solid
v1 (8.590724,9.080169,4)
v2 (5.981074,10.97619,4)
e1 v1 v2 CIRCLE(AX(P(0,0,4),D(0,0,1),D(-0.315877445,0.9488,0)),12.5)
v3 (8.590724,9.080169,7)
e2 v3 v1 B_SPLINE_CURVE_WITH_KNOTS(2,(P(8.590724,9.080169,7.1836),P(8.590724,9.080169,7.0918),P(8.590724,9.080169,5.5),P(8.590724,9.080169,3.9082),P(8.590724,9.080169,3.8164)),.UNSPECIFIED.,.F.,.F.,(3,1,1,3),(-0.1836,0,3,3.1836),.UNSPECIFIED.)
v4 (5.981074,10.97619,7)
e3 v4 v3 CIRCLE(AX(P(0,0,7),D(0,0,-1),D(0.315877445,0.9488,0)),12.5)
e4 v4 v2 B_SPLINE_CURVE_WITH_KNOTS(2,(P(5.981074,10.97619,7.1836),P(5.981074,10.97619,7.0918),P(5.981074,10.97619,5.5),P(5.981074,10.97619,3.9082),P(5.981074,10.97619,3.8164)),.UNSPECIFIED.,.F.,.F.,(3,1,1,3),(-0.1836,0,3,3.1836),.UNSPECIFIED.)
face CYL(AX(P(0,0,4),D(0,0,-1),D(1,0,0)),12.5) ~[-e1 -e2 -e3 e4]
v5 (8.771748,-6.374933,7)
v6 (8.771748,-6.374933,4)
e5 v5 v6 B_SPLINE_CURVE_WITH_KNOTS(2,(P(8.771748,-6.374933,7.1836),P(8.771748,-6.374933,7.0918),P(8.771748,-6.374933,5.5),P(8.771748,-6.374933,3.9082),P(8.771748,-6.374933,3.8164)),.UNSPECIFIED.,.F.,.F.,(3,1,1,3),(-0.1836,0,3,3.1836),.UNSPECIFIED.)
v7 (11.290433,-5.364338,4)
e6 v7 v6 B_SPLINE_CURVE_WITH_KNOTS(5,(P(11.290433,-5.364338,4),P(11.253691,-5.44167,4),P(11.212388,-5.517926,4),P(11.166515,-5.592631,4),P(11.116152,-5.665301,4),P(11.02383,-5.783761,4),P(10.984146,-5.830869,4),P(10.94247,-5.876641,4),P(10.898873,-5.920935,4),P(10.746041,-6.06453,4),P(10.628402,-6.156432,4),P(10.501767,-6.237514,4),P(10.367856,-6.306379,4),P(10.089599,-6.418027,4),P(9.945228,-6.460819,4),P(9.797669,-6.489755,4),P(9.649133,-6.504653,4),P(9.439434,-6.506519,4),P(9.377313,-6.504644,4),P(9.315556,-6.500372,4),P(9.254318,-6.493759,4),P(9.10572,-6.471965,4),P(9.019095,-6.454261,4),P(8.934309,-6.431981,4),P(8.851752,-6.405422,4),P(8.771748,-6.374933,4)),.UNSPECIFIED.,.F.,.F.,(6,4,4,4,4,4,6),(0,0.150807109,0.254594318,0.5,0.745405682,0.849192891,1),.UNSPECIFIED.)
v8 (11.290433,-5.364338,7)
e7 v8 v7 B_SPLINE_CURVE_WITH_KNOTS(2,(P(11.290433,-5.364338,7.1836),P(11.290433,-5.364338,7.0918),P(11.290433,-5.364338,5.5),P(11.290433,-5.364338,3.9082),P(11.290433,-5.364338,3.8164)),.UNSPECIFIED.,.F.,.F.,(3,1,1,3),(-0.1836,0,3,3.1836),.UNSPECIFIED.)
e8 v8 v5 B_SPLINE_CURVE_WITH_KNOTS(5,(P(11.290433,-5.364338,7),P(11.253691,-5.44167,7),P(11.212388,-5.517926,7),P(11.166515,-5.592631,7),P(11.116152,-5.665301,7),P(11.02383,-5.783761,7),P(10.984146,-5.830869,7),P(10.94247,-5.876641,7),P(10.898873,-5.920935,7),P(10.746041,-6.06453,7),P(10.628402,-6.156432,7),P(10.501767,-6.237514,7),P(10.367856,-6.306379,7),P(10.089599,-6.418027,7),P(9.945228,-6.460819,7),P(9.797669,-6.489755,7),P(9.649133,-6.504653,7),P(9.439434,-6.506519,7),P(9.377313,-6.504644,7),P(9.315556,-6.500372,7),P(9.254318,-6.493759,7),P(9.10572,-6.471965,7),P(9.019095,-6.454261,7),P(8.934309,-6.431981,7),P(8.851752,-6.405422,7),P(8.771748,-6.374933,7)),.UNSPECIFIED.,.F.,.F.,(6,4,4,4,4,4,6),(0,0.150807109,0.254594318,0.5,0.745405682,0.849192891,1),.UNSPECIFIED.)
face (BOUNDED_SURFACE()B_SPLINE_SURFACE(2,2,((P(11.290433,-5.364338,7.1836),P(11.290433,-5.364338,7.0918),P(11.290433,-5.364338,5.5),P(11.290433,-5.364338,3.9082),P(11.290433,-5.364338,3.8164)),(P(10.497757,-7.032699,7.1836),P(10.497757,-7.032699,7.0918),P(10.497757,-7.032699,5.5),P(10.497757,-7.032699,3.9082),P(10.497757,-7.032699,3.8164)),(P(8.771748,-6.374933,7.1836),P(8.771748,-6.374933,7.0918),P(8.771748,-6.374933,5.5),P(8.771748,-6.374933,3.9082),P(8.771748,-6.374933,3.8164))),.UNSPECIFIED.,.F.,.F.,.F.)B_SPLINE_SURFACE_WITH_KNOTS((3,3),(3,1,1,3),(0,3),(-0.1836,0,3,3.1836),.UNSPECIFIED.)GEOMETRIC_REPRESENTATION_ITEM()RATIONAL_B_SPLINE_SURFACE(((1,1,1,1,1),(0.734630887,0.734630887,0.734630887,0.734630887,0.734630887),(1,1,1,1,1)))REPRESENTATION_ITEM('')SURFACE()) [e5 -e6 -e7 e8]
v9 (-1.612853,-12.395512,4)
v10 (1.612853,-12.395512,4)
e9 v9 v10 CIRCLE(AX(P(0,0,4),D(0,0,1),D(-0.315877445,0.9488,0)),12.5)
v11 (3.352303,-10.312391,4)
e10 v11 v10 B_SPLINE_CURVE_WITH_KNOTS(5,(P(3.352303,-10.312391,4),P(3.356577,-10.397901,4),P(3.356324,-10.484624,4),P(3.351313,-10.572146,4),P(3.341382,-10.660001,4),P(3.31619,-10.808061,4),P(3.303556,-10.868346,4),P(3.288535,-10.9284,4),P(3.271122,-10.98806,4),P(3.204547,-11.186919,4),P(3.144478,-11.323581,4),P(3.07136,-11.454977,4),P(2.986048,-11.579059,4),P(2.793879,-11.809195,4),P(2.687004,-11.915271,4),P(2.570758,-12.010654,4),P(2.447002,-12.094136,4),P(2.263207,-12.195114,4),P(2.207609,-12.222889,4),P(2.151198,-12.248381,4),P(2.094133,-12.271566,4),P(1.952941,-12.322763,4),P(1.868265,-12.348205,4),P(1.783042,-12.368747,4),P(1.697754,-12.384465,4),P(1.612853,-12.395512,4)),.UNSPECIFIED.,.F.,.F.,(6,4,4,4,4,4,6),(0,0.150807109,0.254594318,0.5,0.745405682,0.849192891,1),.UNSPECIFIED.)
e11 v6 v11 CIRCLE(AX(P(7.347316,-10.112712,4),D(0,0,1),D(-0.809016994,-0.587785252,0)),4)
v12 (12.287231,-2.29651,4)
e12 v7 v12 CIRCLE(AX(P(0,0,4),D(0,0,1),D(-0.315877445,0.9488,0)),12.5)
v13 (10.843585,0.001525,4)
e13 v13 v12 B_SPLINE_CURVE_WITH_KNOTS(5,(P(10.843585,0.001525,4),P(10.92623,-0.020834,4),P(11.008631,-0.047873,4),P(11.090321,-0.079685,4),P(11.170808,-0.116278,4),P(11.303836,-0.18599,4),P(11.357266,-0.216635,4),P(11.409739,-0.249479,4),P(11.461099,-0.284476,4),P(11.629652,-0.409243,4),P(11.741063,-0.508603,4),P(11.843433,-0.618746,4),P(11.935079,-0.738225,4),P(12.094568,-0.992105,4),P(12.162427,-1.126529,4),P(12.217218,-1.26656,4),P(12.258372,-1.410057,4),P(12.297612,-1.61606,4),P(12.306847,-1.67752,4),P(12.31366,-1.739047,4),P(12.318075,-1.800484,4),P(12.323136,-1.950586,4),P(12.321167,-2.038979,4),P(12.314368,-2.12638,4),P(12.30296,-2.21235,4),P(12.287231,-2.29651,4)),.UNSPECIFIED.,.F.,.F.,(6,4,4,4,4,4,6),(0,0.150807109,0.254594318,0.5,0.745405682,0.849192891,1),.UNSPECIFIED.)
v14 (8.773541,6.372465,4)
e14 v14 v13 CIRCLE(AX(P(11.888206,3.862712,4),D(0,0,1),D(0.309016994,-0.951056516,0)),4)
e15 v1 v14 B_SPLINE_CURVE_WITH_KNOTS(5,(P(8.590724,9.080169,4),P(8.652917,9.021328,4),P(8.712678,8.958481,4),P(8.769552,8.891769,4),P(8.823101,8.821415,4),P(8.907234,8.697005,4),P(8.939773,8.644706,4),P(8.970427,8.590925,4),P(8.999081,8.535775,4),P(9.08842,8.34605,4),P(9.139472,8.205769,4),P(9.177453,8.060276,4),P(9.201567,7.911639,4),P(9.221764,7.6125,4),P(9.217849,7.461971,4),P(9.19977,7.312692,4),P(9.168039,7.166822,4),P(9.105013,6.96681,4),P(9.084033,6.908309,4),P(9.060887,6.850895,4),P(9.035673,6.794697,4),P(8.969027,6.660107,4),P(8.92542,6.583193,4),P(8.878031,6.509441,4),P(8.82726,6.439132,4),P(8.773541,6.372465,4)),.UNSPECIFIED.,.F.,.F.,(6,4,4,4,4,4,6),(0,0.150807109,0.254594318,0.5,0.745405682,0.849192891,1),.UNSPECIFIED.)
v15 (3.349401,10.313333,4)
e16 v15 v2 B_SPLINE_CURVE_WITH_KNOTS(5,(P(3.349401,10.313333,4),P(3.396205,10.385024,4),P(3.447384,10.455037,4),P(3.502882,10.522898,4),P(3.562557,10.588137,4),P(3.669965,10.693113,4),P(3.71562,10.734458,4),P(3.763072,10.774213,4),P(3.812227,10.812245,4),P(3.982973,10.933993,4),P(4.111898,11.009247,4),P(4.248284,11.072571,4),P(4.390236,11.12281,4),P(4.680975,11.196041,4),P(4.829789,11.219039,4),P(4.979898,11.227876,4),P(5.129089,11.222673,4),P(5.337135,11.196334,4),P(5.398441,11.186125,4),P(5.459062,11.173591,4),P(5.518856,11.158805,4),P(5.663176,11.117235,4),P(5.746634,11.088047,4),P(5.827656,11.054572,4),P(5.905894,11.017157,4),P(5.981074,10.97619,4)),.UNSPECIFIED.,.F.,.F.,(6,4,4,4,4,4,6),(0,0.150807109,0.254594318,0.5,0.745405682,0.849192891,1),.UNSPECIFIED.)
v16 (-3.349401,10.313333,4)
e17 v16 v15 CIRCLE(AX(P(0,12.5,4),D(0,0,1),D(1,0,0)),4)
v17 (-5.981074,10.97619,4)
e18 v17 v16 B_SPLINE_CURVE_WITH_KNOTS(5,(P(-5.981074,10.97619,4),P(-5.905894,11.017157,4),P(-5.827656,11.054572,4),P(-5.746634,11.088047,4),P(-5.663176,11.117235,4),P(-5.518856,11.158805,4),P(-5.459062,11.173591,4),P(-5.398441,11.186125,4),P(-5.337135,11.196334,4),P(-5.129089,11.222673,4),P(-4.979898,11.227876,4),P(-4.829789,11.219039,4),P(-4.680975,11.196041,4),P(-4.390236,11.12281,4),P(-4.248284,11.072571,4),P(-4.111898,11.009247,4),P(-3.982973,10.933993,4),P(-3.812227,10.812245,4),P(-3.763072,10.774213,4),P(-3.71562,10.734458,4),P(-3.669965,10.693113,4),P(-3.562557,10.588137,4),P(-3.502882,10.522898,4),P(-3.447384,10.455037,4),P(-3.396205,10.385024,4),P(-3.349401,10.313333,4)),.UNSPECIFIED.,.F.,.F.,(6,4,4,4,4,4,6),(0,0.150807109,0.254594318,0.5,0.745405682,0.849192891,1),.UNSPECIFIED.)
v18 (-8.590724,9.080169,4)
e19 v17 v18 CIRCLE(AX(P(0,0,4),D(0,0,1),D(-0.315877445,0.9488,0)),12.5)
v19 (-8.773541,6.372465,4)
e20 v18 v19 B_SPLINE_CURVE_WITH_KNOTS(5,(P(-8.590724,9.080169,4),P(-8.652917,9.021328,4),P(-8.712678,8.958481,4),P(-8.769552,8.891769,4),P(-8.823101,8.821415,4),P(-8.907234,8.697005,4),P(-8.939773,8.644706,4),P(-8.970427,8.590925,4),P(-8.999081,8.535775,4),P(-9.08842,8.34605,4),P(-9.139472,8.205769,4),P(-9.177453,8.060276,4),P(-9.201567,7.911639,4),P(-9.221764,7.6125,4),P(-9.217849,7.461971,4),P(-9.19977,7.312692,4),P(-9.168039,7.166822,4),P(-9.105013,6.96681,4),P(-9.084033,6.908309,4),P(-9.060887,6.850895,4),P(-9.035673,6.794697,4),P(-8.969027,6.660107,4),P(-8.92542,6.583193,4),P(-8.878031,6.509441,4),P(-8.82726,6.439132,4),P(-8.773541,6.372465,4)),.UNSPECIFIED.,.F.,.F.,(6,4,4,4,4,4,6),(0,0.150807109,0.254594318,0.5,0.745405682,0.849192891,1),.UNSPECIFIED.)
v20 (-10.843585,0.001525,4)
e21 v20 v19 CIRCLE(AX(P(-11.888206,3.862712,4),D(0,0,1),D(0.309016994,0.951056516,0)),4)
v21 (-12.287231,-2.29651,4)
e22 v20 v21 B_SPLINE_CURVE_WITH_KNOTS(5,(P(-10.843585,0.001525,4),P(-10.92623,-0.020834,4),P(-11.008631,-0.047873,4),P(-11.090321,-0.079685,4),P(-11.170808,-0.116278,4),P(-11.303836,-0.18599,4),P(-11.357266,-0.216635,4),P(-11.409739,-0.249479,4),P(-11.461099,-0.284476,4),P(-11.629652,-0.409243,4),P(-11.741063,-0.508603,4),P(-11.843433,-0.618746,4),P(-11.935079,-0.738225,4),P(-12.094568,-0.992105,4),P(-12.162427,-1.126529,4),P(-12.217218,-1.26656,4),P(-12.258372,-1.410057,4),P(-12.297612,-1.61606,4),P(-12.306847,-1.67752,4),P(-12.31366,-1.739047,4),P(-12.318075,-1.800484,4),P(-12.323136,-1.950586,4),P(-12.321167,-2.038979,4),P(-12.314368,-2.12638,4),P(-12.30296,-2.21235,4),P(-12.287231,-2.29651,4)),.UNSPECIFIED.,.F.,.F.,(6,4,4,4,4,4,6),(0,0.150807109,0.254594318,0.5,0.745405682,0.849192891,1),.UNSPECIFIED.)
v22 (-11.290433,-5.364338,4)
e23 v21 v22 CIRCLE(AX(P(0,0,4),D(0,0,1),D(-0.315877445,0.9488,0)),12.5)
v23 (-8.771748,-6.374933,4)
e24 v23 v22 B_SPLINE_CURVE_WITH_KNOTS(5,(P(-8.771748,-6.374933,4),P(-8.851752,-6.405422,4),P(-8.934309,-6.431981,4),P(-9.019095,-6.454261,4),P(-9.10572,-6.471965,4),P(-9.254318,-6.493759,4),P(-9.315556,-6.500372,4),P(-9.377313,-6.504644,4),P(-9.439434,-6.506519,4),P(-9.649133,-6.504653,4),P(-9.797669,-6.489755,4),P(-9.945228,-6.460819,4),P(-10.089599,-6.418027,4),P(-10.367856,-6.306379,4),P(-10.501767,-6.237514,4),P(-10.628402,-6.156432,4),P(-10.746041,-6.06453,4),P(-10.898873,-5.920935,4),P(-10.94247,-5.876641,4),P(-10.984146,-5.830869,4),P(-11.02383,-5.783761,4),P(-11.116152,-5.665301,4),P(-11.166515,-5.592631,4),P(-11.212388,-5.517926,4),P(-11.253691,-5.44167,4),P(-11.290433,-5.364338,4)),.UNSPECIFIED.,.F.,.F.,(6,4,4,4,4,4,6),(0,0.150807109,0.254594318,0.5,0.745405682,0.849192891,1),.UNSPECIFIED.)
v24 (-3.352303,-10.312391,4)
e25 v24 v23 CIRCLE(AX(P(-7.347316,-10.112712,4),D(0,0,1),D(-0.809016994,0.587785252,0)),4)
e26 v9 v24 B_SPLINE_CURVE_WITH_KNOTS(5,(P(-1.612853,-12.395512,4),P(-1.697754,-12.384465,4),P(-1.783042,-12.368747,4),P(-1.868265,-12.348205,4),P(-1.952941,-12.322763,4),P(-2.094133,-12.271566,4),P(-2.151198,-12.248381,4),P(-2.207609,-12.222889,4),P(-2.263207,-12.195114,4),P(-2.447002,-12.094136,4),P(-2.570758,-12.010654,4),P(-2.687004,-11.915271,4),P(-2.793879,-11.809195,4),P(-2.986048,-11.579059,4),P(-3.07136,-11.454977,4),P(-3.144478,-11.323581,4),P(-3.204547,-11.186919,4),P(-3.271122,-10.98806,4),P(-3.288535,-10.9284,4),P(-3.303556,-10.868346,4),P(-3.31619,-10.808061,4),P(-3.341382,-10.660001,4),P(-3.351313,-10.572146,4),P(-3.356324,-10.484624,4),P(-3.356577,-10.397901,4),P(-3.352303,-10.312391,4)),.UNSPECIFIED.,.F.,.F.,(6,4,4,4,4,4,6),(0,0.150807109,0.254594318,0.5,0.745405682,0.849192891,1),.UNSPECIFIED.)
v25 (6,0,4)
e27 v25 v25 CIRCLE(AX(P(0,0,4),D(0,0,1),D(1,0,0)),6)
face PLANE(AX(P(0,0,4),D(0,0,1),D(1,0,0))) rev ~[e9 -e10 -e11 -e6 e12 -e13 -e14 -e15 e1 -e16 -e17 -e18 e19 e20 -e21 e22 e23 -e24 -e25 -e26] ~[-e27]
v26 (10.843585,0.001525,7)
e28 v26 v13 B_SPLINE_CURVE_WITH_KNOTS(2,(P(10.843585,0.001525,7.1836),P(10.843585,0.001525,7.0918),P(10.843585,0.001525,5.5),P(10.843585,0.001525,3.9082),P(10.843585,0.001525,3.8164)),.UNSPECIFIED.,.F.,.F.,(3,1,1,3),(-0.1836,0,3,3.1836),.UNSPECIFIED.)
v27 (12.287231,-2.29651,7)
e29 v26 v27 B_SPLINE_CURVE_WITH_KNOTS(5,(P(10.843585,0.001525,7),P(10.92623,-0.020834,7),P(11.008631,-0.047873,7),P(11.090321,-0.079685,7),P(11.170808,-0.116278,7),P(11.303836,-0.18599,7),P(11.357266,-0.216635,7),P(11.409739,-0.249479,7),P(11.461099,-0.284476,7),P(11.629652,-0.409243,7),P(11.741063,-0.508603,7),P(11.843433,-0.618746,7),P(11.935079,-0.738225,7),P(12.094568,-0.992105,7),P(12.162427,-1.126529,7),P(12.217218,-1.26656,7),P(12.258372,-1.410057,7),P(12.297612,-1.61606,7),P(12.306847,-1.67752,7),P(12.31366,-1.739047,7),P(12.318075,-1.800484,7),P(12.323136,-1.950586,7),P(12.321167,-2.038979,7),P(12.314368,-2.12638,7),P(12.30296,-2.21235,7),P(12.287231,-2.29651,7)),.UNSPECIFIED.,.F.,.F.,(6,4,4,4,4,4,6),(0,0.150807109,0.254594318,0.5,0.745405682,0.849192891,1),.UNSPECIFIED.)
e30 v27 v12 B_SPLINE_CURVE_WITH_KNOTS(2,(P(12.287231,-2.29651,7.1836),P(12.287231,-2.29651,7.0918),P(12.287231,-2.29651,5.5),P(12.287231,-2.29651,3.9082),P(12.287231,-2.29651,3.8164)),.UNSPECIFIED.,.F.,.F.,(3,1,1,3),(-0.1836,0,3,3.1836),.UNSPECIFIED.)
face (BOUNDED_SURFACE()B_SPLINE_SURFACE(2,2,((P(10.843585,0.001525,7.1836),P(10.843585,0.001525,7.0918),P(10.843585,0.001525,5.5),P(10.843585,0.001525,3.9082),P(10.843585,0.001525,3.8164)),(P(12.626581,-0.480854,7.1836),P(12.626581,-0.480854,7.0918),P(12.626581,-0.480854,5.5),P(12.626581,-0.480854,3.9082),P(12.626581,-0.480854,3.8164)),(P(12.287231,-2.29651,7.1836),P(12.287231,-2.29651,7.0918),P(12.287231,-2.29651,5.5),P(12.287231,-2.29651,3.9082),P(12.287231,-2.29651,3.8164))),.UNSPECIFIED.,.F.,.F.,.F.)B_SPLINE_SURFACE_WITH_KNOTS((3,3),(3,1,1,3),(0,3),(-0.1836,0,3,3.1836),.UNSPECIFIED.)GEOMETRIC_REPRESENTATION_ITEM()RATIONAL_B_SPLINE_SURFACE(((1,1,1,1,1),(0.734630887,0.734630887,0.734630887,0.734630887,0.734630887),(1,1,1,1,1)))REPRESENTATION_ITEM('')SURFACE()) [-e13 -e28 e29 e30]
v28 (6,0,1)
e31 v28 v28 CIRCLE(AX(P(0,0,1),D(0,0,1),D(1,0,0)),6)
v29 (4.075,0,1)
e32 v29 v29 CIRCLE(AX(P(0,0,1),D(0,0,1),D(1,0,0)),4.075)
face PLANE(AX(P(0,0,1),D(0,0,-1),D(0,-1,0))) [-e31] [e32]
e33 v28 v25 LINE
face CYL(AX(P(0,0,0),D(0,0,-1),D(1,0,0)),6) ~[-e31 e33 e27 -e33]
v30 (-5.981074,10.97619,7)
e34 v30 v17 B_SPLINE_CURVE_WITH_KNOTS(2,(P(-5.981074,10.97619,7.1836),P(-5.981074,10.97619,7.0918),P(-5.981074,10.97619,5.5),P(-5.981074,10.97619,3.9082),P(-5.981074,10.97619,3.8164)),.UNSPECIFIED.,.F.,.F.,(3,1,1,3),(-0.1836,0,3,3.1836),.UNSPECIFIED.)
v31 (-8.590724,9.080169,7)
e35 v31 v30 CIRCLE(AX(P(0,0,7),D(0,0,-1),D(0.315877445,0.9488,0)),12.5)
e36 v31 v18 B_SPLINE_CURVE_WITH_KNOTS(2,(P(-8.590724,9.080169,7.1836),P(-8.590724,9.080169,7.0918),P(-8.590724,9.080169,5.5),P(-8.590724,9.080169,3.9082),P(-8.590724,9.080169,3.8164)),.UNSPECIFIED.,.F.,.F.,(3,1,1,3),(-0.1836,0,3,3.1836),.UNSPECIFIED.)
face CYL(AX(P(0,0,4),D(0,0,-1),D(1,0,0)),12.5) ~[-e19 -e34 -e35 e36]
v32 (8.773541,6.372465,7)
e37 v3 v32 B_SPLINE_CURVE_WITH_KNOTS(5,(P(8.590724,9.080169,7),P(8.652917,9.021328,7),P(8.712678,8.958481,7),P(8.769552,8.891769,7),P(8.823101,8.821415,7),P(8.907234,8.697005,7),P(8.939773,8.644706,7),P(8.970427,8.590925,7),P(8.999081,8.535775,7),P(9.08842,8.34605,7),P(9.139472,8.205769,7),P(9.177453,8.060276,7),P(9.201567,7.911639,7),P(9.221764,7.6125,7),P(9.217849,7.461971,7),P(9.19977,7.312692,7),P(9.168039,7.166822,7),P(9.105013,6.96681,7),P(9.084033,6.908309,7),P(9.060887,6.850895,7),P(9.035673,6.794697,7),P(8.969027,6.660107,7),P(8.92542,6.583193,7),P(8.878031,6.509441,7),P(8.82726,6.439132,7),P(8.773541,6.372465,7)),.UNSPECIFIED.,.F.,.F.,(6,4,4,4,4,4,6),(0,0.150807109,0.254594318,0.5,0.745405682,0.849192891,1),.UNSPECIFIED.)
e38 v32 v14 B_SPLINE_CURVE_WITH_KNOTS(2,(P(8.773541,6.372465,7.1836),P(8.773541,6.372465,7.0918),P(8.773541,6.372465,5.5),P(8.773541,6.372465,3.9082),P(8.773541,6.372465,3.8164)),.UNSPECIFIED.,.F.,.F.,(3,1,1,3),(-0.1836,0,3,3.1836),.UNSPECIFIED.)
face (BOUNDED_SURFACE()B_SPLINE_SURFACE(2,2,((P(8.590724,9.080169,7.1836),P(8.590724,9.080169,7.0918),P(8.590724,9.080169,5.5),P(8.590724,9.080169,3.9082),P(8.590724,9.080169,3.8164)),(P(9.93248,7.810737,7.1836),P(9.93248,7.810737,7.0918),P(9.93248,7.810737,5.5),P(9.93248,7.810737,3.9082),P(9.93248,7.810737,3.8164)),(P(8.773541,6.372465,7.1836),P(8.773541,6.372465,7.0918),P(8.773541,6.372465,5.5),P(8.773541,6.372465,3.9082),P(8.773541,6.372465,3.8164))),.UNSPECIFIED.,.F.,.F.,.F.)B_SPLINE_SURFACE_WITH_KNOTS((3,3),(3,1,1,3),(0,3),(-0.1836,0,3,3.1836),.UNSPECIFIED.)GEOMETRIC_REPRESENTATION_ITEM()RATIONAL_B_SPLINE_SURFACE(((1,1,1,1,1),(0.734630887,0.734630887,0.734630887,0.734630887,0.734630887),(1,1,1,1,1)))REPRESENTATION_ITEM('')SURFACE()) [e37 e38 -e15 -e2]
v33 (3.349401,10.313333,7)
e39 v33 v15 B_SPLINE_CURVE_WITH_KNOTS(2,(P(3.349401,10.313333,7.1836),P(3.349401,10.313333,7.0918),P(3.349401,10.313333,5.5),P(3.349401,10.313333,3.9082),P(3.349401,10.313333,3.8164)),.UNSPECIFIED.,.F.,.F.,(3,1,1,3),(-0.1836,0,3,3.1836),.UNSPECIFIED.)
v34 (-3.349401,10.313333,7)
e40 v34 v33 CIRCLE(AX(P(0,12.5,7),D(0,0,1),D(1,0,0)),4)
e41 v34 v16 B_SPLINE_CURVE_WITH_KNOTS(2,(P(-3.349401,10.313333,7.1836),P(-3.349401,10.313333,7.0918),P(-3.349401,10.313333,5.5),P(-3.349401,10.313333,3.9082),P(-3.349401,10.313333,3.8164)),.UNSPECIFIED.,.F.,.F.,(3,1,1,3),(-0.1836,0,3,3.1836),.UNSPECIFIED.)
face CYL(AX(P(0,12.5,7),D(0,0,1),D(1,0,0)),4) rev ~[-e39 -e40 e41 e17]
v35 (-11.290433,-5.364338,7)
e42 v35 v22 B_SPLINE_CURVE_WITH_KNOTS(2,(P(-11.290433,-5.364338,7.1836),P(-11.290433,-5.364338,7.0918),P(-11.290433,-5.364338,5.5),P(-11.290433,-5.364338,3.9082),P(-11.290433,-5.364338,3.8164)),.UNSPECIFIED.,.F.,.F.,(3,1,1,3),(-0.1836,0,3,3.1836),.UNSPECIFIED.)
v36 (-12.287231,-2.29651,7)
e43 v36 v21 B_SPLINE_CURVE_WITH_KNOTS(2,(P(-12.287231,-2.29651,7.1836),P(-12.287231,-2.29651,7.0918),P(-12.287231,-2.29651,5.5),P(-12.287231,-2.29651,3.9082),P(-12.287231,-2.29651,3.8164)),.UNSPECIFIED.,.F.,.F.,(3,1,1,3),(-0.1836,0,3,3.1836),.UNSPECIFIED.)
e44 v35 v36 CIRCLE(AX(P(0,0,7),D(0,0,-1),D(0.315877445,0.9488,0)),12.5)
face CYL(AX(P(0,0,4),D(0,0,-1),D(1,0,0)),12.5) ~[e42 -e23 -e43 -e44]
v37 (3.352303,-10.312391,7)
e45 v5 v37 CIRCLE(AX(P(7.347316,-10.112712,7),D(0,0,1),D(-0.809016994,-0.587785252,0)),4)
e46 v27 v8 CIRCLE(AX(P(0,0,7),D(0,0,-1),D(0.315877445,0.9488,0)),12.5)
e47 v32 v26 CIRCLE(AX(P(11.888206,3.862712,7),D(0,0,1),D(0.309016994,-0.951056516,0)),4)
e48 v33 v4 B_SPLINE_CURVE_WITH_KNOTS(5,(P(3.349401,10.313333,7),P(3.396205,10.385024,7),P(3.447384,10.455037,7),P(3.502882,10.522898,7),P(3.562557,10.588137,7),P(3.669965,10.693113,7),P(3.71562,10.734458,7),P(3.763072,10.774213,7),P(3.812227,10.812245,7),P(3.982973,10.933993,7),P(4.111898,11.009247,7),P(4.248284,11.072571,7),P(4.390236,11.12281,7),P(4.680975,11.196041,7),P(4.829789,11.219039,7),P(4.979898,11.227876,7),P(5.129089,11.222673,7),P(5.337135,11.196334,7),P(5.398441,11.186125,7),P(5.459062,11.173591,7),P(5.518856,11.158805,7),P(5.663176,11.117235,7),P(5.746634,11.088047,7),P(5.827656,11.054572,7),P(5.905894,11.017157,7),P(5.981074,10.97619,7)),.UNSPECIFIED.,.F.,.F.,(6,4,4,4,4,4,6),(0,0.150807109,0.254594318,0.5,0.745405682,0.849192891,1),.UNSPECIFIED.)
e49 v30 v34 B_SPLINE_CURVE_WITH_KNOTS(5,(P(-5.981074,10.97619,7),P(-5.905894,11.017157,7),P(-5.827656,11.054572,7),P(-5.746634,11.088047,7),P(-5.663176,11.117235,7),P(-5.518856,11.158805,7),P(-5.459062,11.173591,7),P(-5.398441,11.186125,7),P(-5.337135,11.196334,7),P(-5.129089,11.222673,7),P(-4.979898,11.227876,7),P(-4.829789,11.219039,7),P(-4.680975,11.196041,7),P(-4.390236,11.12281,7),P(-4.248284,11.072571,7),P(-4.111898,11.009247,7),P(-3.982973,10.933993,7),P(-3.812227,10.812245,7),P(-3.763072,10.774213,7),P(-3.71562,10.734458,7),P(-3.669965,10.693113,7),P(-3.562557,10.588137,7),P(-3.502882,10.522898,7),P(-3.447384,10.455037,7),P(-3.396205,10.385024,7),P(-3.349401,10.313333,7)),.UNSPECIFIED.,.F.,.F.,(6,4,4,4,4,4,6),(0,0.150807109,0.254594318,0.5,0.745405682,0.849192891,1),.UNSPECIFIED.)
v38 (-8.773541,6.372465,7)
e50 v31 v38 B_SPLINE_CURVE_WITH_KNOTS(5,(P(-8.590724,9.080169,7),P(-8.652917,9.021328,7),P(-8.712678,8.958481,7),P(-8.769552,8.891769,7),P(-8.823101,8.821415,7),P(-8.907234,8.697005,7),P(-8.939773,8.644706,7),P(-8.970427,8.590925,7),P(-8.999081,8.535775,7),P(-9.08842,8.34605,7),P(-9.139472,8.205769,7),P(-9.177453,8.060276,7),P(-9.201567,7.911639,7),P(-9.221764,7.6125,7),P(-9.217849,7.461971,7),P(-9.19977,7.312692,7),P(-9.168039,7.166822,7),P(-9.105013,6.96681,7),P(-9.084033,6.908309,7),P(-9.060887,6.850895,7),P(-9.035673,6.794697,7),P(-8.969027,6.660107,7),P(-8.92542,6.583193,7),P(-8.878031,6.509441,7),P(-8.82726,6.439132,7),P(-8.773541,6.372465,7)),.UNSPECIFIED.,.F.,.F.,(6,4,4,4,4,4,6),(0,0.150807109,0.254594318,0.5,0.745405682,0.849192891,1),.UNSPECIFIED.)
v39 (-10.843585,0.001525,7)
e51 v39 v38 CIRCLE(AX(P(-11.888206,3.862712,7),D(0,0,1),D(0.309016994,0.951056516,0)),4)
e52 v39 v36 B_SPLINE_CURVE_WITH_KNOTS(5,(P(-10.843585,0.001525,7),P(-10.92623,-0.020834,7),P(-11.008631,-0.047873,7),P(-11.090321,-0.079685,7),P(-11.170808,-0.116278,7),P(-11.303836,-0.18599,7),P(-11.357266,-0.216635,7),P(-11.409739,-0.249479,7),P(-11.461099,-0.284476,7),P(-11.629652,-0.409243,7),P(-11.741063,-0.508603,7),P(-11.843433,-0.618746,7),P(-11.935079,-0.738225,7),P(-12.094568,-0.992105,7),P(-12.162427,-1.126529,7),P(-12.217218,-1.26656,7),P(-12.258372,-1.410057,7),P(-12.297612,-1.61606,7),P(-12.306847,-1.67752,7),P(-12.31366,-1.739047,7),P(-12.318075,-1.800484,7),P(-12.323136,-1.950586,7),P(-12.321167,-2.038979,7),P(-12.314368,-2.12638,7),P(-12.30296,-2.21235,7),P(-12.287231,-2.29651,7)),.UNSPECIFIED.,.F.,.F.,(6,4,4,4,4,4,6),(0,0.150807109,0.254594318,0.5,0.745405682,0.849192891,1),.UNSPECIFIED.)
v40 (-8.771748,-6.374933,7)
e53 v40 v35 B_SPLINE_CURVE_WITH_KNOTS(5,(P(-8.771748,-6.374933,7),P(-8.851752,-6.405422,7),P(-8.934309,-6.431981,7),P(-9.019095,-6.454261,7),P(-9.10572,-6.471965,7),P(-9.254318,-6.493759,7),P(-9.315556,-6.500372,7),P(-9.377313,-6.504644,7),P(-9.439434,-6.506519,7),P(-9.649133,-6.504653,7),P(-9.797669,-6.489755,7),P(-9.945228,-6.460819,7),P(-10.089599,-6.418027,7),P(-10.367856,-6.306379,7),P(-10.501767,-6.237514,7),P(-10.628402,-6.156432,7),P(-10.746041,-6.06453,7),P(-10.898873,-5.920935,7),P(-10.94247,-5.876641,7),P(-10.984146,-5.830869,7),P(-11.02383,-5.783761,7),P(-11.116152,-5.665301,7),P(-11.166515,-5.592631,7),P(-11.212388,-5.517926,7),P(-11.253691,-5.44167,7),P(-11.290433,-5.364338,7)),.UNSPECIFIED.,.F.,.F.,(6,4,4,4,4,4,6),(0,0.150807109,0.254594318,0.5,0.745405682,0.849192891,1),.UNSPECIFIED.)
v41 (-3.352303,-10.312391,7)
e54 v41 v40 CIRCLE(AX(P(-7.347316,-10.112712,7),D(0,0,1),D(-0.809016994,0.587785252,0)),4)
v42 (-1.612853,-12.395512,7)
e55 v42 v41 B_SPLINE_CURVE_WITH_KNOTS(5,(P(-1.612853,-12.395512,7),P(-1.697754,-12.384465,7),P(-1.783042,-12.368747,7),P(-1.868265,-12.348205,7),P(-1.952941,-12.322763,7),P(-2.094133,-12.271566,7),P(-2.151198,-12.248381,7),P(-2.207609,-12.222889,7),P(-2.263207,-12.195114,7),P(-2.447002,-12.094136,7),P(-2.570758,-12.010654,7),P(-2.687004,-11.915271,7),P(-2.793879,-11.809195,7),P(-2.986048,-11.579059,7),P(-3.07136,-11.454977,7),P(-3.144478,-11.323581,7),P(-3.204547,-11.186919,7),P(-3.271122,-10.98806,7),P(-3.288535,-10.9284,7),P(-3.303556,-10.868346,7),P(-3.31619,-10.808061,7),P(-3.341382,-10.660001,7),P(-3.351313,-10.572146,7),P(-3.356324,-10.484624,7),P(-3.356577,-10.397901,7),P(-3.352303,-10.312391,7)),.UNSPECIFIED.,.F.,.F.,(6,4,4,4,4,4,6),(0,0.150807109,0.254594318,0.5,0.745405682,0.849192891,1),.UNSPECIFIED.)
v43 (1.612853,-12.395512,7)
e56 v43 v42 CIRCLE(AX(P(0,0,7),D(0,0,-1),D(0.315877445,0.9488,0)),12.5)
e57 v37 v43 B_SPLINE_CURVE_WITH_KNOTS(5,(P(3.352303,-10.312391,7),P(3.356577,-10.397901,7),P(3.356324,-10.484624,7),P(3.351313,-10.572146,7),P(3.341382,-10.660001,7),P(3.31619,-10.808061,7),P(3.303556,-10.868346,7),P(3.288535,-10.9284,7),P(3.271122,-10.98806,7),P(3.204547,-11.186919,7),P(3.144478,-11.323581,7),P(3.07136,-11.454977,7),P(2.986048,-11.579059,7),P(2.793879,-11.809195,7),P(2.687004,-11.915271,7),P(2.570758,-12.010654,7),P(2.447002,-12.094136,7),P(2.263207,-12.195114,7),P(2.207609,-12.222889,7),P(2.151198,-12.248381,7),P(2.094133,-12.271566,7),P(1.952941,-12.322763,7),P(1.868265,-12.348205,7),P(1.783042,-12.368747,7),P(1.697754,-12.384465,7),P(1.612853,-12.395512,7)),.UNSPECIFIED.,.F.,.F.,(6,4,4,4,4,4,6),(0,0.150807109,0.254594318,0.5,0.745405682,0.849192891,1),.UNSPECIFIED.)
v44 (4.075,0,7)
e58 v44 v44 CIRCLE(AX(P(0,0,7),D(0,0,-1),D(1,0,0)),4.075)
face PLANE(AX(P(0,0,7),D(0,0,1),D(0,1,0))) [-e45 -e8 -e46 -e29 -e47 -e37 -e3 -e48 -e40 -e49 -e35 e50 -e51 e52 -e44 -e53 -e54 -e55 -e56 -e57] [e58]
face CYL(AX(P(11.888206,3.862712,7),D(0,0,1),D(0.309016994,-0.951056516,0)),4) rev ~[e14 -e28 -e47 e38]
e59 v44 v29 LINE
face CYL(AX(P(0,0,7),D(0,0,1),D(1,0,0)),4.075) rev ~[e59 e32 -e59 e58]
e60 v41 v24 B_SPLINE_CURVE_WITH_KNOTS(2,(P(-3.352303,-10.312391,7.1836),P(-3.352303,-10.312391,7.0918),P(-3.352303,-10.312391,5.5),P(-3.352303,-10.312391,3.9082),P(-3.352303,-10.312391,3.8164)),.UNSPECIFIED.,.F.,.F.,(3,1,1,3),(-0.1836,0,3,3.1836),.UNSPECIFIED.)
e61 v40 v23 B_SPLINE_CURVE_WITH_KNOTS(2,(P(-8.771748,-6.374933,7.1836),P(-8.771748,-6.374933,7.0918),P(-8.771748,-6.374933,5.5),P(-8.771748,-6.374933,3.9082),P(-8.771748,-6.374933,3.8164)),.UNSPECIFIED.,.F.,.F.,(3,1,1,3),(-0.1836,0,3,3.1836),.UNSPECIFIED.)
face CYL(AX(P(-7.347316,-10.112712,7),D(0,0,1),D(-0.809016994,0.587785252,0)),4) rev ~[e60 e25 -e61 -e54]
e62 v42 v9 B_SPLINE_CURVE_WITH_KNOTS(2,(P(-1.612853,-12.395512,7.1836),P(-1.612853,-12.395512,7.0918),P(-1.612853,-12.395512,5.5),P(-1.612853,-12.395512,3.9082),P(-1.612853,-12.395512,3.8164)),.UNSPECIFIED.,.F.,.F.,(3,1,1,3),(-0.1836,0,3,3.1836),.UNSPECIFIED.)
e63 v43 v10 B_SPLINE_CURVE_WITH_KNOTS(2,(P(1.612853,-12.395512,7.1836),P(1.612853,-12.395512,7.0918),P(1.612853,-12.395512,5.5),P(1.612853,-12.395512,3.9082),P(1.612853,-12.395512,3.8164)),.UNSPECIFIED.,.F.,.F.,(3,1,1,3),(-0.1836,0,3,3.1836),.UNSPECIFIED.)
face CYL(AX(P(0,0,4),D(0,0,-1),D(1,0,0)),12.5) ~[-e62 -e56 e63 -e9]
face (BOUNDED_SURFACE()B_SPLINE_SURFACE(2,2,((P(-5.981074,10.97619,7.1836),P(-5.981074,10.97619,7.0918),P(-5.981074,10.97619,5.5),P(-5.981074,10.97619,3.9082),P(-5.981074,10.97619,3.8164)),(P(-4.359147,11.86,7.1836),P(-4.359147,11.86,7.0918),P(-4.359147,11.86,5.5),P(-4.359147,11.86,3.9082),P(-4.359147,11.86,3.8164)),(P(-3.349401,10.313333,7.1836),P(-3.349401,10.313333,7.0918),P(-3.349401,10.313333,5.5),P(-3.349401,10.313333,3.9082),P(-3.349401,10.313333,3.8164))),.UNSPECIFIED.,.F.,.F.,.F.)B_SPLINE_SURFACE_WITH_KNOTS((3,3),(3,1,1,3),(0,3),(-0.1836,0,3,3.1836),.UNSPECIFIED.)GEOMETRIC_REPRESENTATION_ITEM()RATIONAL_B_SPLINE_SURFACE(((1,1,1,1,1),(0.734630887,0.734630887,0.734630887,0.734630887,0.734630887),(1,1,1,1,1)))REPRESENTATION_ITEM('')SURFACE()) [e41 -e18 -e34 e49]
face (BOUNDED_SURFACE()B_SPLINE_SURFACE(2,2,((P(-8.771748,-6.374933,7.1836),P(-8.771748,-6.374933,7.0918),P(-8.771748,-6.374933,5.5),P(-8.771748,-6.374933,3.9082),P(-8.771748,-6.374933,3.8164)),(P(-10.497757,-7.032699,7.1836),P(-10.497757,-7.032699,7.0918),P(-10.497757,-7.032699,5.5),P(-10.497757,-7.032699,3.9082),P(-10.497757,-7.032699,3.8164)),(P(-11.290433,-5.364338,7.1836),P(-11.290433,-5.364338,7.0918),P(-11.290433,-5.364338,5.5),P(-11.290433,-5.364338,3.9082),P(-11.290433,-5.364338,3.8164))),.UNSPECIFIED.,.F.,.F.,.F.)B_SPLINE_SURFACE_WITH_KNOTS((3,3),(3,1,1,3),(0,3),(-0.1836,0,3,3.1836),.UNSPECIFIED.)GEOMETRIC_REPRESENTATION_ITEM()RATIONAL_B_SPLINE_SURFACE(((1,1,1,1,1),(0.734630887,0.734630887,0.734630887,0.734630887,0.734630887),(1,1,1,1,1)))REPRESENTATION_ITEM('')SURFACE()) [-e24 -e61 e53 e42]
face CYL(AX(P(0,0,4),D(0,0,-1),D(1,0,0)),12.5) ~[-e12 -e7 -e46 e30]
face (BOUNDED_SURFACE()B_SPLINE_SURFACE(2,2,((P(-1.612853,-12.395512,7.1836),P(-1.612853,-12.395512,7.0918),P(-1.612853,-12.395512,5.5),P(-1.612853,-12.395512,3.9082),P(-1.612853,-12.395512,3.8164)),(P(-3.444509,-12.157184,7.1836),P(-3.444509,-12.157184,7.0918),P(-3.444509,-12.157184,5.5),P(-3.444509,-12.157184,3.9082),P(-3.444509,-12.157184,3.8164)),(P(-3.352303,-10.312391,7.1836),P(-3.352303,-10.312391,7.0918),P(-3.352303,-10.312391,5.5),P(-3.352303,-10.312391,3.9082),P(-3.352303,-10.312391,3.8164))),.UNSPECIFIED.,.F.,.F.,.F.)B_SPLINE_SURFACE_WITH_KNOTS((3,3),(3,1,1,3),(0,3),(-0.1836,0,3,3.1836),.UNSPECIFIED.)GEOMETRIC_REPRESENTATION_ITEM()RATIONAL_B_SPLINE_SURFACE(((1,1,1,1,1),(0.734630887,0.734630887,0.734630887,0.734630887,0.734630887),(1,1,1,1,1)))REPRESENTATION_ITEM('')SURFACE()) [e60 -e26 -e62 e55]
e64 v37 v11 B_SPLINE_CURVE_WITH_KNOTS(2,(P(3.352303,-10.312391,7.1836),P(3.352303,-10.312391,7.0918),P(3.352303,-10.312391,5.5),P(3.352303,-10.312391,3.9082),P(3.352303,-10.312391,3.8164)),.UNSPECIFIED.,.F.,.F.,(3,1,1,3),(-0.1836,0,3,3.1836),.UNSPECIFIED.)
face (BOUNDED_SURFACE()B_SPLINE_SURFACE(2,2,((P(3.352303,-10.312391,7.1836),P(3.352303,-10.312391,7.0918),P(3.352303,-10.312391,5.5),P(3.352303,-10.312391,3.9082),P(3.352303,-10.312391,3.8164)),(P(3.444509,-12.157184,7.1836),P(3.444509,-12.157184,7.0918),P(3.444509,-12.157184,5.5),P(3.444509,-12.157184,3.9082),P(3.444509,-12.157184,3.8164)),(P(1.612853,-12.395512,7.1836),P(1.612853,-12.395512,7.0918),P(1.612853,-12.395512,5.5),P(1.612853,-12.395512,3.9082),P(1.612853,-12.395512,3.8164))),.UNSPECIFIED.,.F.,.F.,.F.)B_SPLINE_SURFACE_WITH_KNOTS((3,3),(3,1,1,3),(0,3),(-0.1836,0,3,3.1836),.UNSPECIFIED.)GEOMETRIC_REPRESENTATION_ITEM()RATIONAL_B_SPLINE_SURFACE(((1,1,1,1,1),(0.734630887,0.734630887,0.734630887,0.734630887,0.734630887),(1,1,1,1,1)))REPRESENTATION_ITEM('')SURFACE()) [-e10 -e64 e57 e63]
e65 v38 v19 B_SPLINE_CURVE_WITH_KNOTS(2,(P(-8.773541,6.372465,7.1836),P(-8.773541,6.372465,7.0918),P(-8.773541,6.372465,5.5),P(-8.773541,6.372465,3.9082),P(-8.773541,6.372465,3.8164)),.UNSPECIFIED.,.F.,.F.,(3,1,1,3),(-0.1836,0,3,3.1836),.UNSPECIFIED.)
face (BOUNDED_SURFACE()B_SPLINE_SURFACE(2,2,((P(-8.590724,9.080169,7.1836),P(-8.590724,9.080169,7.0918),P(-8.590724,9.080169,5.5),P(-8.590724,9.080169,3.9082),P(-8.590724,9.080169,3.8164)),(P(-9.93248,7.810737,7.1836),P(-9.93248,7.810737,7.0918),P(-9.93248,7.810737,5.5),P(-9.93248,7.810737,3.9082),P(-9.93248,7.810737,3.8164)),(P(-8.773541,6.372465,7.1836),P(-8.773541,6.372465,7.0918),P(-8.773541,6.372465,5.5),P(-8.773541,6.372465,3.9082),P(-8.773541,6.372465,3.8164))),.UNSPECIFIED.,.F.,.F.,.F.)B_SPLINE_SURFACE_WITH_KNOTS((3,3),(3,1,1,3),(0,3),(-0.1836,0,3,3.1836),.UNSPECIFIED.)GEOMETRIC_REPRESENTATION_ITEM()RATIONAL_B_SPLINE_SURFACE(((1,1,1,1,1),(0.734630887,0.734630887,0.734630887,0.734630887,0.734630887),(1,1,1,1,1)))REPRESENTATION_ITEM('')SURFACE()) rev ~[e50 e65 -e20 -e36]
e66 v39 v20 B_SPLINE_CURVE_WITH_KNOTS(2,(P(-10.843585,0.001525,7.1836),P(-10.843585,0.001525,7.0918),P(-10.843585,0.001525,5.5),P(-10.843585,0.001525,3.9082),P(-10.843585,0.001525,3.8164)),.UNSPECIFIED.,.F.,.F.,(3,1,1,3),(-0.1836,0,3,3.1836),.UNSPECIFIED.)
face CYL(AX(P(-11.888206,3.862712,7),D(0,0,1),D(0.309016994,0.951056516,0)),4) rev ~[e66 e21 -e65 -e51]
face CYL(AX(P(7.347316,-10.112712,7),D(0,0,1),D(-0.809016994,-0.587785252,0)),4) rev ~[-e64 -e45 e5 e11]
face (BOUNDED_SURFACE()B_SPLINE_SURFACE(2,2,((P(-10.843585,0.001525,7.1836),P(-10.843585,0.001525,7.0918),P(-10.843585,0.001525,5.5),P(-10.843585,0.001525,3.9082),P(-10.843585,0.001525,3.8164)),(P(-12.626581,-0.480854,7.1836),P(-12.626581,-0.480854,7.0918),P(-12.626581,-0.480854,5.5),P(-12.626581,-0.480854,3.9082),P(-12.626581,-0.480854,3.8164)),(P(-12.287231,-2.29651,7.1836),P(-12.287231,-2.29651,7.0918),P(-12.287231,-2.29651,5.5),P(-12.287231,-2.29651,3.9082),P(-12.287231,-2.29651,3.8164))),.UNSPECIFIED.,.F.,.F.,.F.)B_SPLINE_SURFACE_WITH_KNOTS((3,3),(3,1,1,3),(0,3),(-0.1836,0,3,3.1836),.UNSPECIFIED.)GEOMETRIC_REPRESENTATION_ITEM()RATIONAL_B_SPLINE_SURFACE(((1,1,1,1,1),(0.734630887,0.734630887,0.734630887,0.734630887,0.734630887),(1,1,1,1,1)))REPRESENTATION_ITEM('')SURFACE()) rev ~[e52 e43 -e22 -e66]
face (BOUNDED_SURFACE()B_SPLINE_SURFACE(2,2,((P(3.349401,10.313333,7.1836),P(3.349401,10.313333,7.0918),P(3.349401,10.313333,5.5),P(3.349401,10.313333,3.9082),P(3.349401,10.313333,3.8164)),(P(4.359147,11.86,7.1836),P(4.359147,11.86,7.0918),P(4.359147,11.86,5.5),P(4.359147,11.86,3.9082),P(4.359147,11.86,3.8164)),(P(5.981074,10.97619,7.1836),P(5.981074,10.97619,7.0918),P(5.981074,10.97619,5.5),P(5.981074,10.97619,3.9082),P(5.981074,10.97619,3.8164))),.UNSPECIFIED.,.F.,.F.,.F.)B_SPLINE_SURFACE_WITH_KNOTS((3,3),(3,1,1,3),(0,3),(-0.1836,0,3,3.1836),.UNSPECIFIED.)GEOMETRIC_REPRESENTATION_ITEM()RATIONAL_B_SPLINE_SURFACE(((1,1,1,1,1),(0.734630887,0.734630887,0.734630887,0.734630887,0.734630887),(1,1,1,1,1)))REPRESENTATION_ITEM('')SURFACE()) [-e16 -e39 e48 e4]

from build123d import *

# Parameters (mm, degrees)
SKETCH_R           = 6
PAD_DEPTH          = 4
SKETCH001_R        = 12.5
PAD001_DEPTH       = 3
SKETCH002_R        = 4
POCKET_DEPTH       = 3
POLARPATTERN_COUNT = 5
FILLET_R           = 2
SKETCH003_R        = 2.31
POCKET001_DEPTH    = 3
POCKET001_FACE25_R = 6
POCKET002_DEPTH    = 1
POCKET002_FACE26_R = 2.31
POCKET003_DEPTH    = 1.5
POCKET003_FACE26_R = 2.31
POCKET004_DEPTH    = 1.501
SKETCH005_R        = 6
SKETCH005_R_2      = 2.31
PAD002_DEPTH       = 3
PAD002_FACE38_R    = 2.31
PAD003_DEPTH       = 3
SKETCH006_R        = 4.075
POCKET005_DEPTH    = 6.001


with BuildPart() as part:
    # Sketch → Pad (new body)
    with BuildSketch(Plane.XY):
        Circle(SKETCH_R)
        Polygon((-2.286307, -3.96), (2.286307, -3.96), (4.572614, 0), (2.286307, 3.96), (-2.286307, 3.96), (-4.572614, 0), align=None, mode=Mode.SUBTRACT)
    extrude(amount=PAD_DEPTH)

    # Sketch001 (on Face9 of Pad) → Pad001 (join)
    with BuildSketch(Plane.XY.offset(4)):
        Circle(SKETCH001_R)
    extrude(amount=PAD001_DEPTH)

    # Sketch002 (on Face3 of Pad001) → Pocket (cut)
    with BuildSketch(Plane.XY.offset(7)):
        with Locations((0, 12.5)):
            Circle(SKETCH002_R)
    pocket = extrude(amount=-POCKET_DEPTH, mode=Mode.SUBTRACT)

    # PolarPattern: Pocket ×5 about axis
    polarpattern_axis = Axis((0, 0, 0), (0, 0, 1))
    for i in range(1, POLARPATTERN_COUNT):
        add(pocket.rotate(polarpattern_axis, i * 360 / POLARPATTERN_COUNT), mode=Mode.SUBTRACT)

    # Fillet
    fillet_edges = [part.edges().sort_by_distance(p)[0] for p in [
        (-12.499674, -0.090275, 5.5),
        (-10.059387, 7.420158, 5.5),
        (-3.948468, 11.86, 5.5),
        (3.948468, 11.86, 5.5),
        (-3.776755, -11.915793, 5.5),
        (-10.165511, -7.27409, 5.5),
        (10.165511, -7.27409, 5.5),
        (3.776755, -11.915793, 5.5),
        (10.059387, 7.420158, 5.5),
        (12.499674, -0.090275, 5.5),
    ]]
    fillet(fillet_edges, radius=FILLET_R)

    # Sketch003 (on Face31 of Fillet) → Pocket001 (cut)
    with BuildSketch(Plane(origin=(0, 0, 4), x_dir=(1, 0, 0), z_dir=(0, 0, -1))):
        Circle(SKETCH003_R)
    extrude(amount=-POCKET001_DEPTH, mode=Mode.SUBTRACT)

    # Pocket001 Face25 → Pocket002 (cut)
    with BuildSketch(Plane(origin=(0, 0, 0), x_dir=(0, -1, 0), z_dir=(0, 0, -1))):
        Circle(POCKET001_FACE25_R)
        Polygon((0, 4.572614), (3.96, 2.286307), (3.96, -2.286307), (0, -4.572614), (-3.96, -2.286307), (-3.96, 2.286307), align=None, mode=Mode.SUBTRACT)
    extrude(amount=-POCKET002_DEPTH, mode=Mode.SUBTRACT)

    # Pocket002 Face26 → Pocket003 (cut)
    with BuildSketch(Plane(origin=(0, 0, 4), x_dir=(0, -1, 0), z_dir=(0, 0, -1))):
        Polygon((0, 4.572614), (-3.96, 2.286307), (-3.96, -2.286307), (0, -4.572614), (3.96, -2.286307), (3.96, 2.286307), align=None)
        Circle(POCKET002_FACE26_R, mode=Mode.SUBTRACT)
    extrude(amount=-POCKET003_DEPTH, mode=Mode.SUBTRACT)

    # Pocket003 Face26 → Pocket004 (cut, through all)
    with BuildSketch(Plane(origin=(0, 0, 5.5), x_dir=(0, -1, 0), z_dir=(0, 0, -1))):
        Polygon((0, 4.572614), (-3.96, 2.286307), (-3.96, -2.286307), (0, -4.572614), (3.96, -2.286307), (3.96, 2.286307), align=None)
        Circle(POCKET003_FACE26_R, mode=Mode.SUBTRACT)
    extrude(amount=-POCKET004_DEPTH, mode=Mode.SUBTRACT)

    # Sketch005 (on Face30 of Pocket004) → Pad002 (join)
    with BuildSketch(Plane(origin=(0, 0, 1), x_dir=(1, 0, 0), z_dir=(0, 0, -1))):
        Circle(SKETCH005_R)
        Circle(SKETCH005_R_2, mode=Mode.SUBTRACT)
    extrude(amount=-PAD002_DEPTH)

    # Pad002 Face38 → Pad003 (add)
    with BuildSketch(Plane(origin=(0, 0, 4), x_dir=(0, 1, 0), z_dir=(0, 0, 1))):
        Polygon((0, 4.572614), (-3.96, 2.286307), (-3.96, -2.286307), (0, -4.572614), (3.96, -2.286307), (3.96, 2.286307), align=None)
        Circle(PAD002_FACE38_R, mode=Mode.SUBTRACT)
    extrude(amount=PAD003_DEPTH)

    # Sketch006 (on Face24 of Pad003) → Pocket005 (cut, through all)
    with BuildSketch(Plane.XY.offset(7)):
        Circle(SKETCH006_R)
    extrude(amount=-POCKET005_DEPTH, mode=Mode.SUBTRACT)


solid = part.part
